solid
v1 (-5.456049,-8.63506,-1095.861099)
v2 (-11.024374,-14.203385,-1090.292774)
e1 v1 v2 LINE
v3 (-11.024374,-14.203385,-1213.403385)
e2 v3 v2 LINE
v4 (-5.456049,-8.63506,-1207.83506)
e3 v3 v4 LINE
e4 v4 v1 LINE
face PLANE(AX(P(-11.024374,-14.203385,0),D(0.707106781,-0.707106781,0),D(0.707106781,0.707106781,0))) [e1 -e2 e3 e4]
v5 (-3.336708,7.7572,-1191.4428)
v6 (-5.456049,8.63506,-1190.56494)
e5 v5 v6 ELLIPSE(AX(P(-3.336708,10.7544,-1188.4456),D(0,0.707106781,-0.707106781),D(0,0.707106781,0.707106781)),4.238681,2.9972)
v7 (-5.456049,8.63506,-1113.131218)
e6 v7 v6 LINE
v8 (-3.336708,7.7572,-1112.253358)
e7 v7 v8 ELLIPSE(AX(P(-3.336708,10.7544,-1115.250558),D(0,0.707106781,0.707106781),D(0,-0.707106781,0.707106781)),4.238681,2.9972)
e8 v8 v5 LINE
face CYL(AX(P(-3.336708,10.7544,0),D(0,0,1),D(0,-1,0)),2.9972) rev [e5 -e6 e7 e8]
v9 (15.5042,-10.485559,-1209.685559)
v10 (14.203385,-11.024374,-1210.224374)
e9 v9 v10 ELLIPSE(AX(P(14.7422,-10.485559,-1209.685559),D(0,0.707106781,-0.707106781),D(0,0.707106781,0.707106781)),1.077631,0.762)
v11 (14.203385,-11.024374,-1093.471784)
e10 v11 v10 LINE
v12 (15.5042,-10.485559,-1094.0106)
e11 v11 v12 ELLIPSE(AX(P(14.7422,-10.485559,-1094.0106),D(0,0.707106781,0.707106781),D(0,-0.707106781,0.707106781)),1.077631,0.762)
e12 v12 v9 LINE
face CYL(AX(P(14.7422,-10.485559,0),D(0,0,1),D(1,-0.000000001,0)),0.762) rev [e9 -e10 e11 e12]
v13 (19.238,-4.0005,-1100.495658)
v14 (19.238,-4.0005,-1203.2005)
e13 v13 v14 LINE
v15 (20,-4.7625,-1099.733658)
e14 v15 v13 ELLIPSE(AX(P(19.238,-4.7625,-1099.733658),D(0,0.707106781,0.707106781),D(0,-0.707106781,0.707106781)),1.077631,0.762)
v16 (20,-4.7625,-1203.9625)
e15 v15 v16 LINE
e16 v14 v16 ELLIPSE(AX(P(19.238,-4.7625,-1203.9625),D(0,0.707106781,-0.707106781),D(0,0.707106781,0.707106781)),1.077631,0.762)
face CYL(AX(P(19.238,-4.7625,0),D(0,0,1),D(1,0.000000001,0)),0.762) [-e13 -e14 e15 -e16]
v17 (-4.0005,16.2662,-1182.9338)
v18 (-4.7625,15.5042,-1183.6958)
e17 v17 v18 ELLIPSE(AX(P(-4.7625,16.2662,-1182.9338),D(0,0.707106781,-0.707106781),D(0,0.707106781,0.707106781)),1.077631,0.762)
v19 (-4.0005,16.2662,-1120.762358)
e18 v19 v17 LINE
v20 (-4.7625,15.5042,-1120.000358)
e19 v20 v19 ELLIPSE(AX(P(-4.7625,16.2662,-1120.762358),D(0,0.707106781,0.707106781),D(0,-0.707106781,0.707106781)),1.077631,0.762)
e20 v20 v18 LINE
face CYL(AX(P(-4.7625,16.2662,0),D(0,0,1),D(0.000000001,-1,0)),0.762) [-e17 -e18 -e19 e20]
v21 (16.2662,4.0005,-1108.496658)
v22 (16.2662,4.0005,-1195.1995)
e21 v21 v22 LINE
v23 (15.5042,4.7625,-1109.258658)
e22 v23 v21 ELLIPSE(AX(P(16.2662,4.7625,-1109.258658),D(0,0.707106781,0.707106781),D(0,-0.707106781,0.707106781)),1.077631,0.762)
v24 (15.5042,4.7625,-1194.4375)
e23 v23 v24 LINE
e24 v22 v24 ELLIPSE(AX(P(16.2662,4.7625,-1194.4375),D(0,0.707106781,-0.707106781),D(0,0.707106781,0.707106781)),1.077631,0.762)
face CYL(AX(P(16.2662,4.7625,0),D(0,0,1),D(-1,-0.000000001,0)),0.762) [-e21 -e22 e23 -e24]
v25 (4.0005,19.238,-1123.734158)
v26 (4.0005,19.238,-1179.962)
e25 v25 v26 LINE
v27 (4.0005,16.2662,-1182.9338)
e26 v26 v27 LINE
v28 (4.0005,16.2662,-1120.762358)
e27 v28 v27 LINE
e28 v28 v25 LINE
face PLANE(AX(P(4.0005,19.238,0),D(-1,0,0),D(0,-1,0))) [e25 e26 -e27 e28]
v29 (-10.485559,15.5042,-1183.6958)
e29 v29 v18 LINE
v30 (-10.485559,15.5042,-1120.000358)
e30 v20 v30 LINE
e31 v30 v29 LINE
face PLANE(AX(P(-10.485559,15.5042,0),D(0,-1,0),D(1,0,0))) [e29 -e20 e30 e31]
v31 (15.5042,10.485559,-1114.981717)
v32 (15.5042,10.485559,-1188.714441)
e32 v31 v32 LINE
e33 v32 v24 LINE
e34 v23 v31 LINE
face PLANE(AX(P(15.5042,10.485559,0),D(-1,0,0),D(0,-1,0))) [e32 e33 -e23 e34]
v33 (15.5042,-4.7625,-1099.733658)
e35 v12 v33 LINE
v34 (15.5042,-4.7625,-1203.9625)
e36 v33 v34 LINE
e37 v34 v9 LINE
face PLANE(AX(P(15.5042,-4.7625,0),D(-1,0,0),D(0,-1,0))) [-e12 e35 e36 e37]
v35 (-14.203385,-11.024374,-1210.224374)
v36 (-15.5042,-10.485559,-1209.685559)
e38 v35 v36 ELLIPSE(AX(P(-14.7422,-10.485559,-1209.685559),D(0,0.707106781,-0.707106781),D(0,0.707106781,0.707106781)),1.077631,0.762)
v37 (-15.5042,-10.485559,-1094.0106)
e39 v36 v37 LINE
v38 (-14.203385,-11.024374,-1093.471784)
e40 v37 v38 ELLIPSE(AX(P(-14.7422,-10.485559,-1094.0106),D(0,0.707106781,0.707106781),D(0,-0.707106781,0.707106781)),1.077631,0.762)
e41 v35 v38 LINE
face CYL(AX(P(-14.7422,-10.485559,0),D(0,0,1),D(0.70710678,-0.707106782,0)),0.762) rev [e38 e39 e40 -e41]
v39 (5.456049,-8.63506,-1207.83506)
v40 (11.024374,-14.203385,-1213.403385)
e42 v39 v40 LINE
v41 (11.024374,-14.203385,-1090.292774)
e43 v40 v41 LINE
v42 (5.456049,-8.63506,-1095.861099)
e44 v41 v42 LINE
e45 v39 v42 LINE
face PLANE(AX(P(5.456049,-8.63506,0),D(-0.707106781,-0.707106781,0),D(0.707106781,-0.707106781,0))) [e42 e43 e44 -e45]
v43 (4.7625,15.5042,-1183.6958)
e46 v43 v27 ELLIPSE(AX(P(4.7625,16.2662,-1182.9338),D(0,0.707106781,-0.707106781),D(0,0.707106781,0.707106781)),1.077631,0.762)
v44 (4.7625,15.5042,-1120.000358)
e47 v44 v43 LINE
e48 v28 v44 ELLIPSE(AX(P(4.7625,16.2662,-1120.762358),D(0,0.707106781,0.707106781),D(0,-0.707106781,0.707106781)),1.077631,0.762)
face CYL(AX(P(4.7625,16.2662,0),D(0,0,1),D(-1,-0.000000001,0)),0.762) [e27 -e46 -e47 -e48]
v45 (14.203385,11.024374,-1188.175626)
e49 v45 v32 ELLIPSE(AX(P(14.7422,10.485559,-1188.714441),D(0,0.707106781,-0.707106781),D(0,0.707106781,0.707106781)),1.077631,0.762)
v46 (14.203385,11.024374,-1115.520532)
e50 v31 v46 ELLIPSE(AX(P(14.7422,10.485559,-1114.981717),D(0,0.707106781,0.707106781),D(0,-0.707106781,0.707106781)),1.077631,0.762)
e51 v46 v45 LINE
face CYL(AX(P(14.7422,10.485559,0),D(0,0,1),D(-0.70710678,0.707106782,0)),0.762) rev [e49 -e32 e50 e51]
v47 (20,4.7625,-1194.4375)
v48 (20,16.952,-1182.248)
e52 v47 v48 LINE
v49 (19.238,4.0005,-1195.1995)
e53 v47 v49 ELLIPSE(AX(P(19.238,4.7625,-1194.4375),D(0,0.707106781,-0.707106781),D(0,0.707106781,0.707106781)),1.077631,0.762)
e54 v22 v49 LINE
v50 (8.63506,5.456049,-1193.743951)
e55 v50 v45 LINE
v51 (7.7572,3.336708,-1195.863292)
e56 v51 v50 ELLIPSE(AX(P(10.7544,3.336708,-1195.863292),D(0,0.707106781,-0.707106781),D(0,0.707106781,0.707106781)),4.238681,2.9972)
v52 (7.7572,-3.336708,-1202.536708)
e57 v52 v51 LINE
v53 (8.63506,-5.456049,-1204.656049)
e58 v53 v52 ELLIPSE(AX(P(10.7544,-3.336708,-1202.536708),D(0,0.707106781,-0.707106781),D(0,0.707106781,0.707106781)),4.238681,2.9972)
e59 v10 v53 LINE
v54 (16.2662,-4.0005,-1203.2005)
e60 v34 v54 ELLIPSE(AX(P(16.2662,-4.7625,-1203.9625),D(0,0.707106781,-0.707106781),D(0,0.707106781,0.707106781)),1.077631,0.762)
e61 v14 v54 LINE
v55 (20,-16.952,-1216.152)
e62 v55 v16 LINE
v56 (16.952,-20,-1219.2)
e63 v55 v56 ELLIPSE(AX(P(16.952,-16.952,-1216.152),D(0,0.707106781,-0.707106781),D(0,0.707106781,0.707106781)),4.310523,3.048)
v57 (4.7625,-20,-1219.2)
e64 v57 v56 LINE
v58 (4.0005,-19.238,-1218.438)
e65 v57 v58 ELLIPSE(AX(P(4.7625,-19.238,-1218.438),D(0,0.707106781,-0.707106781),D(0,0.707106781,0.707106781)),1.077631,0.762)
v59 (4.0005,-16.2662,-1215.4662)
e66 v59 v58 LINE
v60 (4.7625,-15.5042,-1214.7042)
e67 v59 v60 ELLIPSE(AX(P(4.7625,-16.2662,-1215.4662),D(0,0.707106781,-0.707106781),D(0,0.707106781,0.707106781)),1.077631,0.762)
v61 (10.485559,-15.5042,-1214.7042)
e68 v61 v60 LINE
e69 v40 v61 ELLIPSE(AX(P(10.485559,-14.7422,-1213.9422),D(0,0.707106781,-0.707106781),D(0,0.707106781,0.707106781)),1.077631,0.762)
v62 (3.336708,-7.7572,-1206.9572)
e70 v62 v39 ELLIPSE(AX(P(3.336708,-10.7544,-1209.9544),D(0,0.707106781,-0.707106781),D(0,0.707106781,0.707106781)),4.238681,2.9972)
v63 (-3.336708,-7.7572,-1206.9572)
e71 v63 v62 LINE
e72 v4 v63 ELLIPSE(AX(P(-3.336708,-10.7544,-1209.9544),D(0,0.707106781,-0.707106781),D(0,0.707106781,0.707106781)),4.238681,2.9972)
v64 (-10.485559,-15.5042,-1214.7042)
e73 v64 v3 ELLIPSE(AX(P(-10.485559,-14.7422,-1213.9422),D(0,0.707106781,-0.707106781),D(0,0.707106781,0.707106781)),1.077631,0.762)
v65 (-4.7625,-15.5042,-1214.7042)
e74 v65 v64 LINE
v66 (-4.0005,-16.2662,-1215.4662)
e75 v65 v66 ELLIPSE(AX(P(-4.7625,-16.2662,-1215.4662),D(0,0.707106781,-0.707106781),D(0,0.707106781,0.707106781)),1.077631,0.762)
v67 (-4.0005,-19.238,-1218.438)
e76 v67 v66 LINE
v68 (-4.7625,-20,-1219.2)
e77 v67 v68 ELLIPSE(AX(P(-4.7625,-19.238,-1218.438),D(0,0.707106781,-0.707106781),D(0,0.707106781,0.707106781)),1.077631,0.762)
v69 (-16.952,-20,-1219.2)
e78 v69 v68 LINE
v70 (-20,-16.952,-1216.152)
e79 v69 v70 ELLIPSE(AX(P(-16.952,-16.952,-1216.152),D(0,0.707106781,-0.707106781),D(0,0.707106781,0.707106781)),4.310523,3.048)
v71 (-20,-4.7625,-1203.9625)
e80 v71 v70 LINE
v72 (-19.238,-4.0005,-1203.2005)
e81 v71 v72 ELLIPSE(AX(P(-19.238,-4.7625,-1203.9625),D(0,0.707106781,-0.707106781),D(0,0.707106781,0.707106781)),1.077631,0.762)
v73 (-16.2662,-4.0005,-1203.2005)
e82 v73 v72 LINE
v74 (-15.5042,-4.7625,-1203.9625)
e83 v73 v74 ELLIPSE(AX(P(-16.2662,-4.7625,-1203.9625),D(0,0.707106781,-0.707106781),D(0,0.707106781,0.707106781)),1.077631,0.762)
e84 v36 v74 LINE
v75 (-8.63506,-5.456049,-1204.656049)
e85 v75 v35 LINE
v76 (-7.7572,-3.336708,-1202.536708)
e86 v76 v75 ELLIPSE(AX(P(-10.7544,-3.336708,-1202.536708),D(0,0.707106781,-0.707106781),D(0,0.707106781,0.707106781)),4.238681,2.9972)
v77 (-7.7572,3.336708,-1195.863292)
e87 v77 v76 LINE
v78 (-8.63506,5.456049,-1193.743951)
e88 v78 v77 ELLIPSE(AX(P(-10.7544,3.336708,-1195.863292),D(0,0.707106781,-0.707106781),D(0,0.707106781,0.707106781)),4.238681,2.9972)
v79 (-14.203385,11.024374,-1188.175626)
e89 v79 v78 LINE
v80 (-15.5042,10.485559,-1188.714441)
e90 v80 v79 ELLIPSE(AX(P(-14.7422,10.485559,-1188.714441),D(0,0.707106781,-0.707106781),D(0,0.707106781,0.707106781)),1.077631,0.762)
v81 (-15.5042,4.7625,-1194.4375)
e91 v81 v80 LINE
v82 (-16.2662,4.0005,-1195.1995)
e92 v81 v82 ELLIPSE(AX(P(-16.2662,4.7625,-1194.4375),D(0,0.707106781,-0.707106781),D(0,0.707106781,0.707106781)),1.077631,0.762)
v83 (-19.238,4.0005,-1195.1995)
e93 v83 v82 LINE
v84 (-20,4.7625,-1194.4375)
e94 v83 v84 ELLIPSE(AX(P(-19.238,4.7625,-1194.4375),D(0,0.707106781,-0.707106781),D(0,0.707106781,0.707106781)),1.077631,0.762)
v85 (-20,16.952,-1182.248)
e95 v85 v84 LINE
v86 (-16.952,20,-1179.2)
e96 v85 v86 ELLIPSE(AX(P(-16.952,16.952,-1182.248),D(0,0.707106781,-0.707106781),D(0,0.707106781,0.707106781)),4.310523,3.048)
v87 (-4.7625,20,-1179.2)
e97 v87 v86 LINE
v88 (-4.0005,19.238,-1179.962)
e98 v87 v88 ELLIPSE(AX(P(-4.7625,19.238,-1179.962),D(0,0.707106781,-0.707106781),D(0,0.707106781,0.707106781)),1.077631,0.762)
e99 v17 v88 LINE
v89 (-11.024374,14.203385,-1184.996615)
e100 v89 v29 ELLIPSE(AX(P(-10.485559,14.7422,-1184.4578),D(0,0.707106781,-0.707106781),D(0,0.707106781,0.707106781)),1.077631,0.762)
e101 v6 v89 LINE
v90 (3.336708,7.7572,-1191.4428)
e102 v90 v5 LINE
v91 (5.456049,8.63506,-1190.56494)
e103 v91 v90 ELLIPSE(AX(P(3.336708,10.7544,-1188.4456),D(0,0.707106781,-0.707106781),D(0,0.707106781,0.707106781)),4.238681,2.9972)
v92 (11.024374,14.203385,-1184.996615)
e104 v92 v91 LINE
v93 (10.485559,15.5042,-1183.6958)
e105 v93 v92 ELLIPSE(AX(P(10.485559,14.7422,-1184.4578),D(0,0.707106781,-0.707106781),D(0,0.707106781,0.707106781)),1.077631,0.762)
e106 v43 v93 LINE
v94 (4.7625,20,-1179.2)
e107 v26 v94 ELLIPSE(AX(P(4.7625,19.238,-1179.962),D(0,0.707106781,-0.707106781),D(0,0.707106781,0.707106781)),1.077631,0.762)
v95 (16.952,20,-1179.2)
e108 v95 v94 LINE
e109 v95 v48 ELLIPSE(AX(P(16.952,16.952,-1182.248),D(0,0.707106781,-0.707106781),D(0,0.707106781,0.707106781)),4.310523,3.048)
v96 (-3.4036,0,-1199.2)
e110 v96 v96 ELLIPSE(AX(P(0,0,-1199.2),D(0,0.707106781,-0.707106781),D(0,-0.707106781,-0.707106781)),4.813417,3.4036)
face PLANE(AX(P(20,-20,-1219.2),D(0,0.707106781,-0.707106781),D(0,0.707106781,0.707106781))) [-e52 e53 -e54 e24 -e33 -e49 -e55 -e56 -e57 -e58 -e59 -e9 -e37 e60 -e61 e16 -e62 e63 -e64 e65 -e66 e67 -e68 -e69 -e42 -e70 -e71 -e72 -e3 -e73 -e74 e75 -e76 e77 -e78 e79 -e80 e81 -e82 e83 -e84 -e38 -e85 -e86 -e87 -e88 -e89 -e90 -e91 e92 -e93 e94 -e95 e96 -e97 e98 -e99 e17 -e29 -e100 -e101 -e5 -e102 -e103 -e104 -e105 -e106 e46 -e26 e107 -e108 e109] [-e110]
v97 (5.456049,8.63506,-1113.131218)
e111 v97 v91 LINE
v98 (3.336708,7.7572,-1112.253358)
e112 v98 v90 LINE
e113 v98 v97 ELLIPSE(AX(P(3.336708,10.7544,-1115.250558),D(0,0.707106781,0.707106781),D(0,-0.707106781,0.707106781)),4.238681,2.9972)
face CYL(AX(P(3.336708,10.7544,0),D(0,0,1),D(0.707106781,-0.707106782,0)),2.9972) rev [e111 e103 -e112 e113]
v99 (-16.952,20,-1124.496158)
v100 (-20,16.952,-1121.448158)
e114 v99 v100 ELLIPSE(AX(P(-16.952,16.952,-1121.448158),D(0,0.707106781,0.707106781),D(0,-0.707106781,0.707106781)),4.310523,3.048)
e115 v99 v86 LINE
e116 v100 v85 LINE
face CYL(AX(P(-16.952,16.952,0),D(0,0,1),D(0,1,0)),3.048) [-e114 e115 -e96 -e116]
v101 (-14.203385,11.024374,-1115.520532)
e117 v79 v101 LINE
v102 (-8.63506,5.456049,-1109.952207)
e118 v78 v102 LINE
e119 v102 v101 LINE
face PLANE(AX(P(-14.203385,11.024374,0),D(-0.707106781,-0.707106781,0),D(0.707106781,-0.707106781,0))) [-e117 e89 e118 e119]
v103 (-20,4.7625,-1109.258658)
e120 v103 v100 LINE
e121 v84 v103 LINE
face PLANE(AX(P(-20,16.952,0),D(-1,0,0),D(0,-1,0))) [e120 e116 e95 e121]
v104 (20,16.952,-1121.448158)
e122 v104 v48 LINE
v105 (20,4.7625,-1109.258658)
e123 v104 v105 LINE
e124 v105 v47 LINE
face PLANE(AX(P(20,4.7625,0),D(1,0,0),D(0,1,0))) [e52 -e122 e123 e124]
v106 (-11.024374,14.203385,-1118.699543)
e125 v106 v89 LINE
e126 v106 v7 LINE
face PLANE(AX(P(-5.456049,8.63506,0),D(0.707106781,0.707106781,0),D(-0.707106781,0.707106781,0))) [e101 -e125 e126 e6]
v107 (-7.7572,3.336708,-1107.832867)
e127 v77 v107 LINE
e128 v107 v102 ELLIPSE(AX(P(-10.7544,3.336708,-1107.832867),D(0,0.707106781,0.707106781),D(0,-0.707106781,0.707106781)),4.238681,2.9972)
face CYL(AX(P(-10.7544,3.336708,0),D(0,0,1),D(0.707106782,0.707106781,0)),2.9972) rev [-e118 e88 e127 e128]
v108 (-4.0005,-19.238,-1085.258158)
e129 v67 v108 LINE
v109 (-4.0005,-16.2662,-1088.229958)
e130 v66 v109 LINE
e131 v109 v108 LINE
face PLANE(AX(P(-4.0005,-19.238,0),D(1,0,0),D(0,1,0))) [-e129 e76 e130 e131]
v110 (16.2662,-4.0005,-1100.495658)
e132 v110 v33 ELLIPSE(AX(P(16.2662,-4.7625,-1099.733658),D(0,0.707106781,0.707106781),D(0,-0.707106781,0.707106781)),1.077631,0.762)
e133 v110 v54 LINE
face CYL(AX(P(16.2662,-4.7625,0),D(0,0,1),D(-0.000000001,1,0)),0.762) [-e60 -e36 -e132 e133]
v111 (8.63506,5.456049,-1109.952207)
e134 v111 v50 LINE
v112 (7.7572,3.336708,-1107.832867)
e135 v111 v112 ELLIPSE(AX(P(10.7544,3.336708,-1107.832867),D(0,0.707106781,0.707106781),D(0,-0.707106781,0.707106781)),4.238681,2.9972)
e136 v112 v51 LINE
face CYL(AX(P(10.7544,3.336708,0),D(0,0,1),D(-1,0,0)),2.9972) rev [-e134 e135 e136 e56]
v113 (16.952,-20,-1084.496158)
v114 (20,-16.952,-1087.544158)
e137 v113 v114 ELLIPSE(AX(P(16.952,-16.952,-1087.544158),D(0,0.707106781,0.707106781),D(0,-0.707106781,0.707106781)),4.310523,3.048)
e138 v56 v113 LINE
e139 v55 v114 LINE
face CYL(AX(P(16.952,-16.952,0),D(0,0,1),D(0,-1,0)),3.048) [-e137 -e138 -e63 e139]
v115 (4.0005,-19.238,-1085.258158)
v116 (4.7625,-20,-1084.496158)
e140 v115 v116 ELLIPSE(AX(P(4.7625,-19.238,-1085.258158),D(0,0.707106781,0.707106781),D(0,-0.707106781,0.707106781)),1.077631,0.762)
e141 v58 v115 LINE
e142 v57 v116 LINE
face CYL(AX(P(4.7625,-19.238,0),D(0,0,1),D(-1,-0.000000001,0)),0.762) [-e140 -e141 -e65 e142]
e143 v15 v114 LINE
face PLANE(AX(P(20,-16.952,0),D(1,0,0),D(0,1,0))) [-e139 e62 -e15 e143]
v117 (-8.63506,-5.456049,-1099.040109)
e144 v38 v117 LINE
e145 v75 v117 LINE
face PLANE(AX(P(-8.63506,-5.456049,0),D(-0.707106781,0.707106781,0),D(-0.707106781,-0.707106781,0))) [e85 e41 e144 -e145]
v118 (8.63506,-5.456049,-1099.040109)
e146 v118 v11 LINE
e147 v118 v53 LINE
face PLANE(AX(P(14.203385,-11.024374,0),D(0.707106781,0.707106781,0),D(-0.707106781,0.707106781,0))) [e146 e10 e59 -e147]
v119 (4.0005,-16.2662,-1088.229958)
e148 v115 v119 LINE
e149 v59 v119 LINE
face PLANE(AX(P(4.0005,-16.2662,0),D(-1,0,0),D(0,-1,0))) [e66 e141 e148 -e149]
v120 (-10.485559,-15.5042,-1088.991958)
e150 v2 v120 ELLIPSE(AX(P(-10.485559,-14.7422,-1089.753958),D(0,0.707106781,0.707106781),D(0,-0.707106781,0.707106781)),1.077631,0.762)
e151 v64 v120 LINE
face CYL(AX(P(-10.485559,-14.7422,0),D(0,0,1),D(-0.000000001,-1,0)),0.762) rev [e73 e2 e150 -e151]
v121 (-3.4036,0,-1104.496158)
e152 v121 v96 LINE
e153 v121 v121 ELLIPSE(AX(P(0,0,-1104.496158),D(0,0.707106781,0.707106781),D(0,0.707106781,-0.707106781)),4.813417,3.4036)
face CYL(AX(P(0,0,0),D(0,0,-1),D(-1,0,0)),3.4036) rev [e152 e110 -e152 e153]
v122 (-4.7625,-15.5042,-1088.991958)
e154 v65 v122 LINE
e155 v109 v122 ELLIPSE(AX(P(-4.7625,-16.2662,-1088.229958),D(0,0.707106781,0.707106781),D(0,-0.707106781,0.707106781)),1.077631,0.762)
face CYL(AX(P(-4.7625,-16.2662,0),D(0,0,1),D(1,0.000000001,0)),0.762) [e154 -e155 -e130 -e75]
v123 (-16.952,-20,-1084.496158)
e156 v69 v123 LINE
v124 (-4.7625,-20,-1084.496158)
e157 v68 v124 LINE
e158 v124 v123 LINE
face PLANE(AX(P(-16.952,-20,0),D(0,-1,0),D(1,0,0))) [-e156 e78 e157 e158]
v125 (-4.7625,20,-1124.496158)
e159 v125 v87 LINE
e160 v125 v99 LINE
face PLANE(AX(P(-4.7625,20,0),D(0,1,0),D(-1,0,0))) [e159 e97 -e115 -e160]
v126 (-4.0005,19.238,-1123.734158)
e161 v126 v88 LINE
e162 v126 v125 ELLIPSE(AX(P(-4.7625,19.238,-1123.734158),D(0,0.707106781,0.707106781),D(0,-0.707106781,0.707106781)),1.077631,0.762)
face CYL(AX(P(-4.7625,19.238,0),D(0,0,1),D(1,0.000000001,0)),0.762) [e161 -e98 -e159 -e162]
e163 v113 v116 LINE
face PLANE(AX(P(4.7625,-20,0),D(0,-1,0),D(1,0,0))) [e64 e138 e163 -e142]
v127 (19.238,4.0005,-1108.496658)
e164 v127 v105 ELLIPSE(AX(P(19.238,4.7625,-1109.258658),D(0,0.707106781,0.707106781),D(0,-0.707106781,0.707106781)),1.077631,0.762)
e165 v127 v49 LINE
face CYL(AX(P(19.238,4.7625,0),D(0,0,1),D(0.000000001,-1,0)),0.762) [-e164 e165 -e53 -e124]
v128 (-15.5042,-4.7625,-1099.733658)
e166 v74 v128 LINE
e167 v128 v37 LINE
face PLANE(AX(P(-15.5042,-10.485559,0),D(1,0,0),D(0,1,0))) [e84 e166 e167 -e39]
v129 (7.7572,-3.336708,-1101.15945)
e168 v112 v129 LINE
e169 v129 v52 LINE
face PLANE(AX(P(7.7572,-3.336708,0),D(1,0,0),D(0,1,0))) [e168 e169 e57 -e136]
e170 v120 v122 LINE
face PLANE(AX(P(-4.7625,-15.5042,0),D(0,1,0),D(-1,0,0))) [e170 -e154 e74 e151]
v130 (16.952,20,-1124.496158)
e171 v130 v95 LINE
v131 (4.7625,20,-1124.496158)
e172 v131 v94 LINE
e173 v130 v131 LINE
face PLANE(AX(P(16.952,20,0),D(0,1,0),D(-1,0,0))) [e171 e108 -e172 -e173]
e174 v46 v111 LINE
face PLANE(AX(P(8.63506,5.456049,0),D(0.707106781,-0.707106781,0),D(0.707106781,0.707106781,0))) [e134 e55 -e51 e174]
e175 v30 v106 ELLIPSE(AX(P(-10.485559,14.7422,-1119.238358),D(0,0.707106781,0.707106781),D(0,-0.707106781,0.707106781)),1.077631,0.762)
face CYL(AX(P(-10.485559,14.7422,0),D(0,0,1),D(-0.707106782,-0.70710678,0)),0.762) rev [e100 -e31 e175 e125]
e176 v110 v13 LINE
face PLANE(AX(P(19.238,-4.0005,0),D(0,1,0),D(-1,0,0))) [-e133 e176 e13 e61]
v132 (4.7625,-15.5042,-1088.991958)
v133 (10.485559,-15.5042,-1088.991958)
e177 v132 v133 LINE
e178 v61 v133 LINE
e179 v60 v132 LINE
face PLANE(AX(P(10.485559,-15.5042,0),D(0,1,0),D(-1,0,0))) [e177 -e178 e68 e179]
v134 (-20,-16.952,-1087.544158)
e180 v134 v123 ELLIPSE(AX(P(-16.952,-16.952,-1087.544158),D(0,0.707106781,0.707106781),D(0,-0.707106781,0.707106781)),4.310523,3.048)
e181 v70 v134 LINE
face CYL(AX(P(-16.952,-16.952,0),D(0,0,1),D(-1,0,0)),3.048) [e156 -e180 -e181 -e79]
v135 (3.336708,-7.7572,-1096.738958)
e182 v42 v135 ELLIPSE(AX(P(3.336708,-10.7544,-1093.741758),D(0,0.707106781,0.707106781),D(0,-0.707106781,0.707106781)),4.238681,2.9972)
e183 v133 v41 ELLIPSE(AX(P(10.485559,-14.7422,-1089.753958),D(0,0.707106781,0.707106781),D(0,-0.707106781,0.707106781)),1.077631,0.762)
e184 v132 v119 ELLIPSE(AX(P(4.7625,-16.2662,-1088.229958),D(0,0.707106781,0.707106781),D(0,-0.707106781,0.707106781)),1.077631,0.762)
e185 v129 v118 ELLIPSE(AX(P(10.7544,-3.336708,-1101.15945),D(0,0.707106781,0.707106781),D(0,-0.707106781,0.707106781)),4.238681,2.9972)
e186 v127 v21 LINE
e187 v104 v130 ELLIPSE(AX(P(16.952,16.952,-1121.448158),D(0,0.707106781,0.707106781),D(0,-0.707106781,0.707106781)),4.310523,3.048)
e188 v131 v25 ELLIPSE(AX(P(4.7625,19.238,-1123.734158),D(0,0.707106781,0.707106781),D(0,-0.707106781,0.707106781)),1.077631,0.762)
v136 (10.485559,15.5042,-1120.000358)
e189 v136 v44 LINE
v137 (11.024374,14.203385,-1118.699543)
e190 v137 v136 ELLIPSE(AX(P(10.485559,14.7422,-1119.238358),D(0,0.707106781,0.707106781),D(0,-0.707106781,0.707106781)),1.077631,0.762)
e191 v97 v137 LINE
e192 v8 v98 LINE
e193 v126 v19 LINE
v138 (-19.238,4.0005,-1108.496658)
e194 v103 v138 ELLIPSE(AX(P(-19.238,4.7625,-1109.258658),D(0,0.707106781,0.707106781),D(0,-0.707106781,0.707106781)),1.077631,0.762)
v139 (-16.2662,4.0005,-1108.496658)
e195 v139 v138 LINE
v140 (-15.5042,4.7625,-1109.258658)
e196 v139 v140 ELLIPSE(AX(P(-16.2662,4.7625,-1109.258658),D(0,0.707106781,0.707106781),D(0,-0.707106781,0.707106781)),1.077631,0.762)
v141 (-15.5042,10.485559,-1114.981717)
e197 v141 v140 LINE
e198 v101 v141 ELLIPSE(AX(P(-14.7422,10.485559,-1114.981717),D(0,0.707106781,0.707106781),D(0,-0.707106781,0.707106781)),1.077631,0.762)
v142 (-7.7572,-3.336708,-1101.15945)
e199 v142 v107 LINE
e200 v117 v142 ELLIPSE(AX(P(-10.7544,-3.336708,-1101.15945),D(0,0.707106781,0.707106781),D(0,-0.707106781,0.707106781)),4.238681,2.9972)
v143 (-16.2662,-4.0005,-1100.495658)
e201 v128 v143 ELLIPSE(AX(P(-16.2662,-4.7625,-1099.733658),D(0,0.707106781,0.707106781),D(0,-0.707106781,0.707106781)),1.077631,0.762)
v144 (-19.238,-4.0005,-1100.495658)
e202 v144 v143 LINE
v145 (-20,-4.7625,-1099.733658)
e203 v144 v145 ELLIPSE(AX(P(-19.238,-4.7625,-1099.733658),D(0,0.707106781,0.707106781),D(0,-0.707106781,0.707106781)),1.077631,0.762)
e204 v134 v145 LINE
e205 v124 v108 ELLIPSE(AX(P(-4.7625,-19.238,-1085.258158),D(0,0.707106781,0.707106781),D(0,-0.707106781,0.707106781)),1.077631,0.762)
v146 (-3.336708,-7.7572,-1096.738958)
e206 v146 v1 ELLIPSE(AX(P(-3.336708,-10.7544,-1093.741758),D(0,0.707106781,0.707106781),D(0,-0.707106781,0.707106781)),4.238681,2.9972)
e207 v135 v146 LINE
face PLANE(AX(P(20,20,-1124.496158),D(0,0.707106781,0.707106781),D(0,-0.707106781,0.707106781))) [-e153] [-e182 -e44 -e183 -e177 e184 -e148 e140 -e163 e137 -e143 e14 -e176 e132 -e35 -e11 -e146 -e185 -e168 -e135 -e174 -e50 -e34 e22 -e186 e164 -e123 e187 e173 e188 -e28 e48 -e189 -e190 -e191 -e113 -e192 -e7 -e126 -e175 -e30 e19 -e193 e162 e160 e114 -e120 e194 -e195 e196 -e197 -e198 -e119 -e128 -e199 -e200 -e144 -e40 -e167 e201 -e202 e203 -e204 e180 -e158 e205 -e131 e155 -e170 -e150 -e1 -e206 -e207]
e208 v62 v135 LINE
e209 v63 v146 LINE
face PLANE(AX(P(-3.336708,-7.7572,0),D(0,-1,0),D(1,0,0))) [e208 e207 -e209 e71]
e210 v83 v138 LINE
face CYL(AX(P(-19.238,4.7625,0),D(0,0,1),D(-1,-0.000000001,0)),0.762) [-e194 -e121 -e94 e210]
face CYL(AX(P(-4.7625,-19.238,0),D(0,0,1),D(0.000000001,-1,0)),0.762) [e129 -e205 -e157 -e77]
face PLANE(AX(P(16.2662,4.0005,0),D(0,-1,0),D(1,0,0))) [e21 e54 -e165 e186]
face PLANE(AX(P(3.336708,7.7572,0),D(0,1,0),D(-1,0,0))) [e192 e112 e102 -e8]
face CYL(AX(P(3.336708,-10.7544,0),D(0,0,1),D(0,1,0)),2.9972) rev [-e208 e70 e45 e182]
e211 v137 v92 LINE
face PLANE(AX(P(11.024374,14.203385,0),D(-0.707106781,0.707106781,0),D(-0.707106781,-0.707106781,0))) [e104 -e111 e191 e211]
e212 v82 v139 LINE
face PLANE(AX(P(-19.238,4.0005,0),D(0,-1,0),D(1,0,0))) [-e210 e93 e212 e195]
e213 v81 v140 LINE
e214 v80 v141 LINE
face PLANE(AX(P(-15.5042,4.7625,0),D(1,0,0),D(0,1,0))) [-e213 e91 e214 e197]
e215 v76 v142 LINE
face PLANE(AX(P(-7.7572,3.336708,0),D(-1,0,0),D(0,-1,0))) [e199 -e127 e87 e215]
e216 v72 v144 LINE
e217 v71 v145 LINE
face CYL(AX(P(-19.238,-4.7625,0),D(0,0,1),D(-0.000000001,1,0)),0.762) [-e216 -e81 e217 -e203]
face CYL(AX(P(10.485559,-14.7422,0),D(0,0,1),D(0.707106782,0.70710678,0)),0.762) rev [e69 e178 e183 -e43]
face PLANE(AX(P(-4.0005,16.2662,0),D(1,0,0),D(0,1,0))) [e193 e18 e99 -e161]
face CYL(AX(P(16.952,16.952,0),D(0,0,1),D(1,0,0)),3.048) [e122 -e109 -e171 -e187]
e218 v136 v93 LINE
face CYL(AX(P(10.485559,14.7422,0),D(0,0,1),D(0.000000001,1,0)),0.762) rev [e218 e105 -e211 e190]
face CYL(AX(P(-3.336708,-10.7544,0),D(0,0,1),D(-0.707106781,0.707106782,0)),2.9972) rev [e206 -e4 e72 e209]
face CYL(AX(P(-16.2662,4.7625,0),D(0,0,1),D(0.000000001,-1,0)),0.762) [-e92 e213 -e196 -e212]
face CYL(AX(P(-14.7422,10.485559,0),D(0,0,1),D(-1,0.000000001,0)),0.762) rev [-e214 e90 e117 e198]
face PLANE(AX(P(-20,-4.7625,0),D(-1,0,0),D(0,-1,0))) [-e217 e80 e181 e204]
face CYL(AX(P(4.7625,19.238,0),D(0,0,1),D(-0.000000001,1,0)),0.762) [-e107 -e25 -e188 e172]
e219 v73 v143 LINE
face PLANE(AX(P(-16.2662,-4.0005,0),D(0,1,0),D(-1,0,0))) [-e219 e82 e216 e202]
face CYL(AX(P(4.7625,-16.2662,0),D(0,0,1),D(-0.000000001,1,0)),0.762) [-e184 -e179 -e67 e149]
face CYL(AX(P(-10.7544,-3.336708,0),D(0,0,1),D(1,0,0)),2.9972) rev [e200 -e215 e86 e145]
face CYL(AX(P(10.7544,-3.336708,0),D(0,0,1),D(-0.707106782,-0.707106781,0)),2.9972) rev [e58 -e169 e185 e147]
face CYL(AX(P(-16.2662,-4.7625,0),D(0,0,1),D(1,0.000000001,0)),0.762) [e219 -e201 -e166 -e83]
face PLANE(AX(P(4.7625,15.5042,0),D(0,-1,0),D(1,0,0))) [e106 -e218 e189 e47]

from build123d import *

# Parameters (mm, degrees)
SKETCH1_R          = 3.4036
EXTRUDE1_DEPTH     = 1219.2
CUT_EXTRUDE1_DEPTH = 1221.019934263


with BuildPart() as part:
    # Sketch1 → Extrude1 (new, symmetric)
    with BuildSketch(Plane.XY):
        with BuildLine():
            Line((-20, 16.952), (-20, 4.7625))
            ThreePointArc((-20, 4.7625), (-19.776815367, 4.223684633), (-19.238, 4.0005))
            Line((-19.238, 4.0005), (-16.2662, 4.0005))
            ThreePointArc((-16.2662, 4.0005), (-15.727384633, 4.223684633), (-15.5042, 4.7625))
            Line((-15.5042, 4.7625), (-15.5042, 10.485558599))
            ThreePointArc((-15.5042, 10.485558599), (-15.033804775, 11.189554802), (-14.203384633, 11.024373966))
            Line((-14.203384633, 11.024373966), (-8.635059555, 5.456048889))
            ThreePointArc((-8.635059555, 5.456048889), (-7.985348265, 4.483687227), (-7.7572, 3.336708444))
            Line((-7.7572, 3.336708444), (-7.7572, -3.336708444))
            ThreePointArc((-7.7572, -3.336708444), (-7.985348265, -4.483687227), (-8.635059555, -5.456048889))
            Line((-8.635059555, -5.456048889), (-14.203384633, -11.024373966))
            ThreePointArc((-14.203384633, -11.024373966), (-15.033804775, -11.189554802), (-15.5042, -10.485558599))
            Line((-15.5042, -10.485558599), (-15.5042, -4.7625))
            ThreePointArc((-15.5042, -4.7625), (-15.727384633, -4.223684633), (-16.2662, -4.0005))
            Line((-16.2662, -4.0005), (-19.238, -4.0005))
            ThreePointArc((-19.238, -4.0005), (-19.776815367, -4.223684633), (-20, -4.7625))
            Line((-20, -4.7625), (-20, -16.952))
            ThreePointArc((-20, -16.952), (-19.107261469, -19.107261469), (-16.952, -20))
            Line((-16.952, -20), (-4.7625, -20))
            ThreePointArc((-4.7625, -20), (-4.223684633, -19.776815367), (-4.0005, -19.238))
            Line((-4.0005, -19.238), (-4.0005, -16.2662))
            ThreePointArc((-4.0005, -16.2662), (-4.223684633, -15.727384633), (-4.7625, -15.5042))
            Line((-4.7625, -15.5042), (-10.485558599, -15.5042))
            ThreePointArc((-10.485558599, -15.5042), (-11.189554802, -15.033804775), (-11.024373966, -14.203384633))
            Line((-11.024373966, -14.203384633), (-5.456048889, -8.635059555))
            ThreePointArc((-5.456048889, -8.635059555), (-4.483687227, -7.985348265), (-3.336708444, -7.7572))
            Line((-3.336708444, -7.7572), (3.336708444, -7.7572))
            ThreePointArc((3.336708444, -7.7572), (4.483687227, -7.985348265), (5.456048889, -8.635059555))
            Line((5.456048889, -8.635059555), (11.024373966, -14.203384633))
            ThreePointArc((11.024373966, -14.203384633), (11.189554802, -15.033804775), (10.485558599, -15.5042))
            Line((10.485558599, -15.5042), (4.7625, -15.5042))
            ThreePointArc((4.7625, -15.5042), (4.223684633, -15.727384633), (4.0005, -16.2662))
            Line((4.0005, -16.2662), (4.0005, -19.238))
            ThreePointArc((4.0005, -19.238), (4.223684633, -19.776815367), (4.7625, -20))
            Line((4.7625, -20), (16.952, -20))
            ThreePointArc((16.952, -20), (19.107261469, -19.107261469), (20, -16.952))
            Line((20, -16.952), (20, -4.7625))
            ThreePointArc((20, -4.7625), (19.776815367, -4.223684633), (19.238, -4.0005))
            Line((19.238, -4.0005), (16.2662, -4.0005))
            ThreePointArc((16.2662, -4.0005), (15.727384633, -4.223684633), (15.5042, -4.7625))
            Line((15.5042, -4.7625), (15.5042, -10.485558599))
            ThreePointArc((15.5042, -10.485558599), (15.033804775, -11.189554802), (14.203384633, -11.024373966))
            Line((14.203384633, -11.024373966), (8.635059555, -5.456048889))
            ThreePointArc((8.635059555, -5.456048889), (7.985348265, -4.483687227), (7.7572, -3.336708444))
            Line((7.7572, -3.336708444), (7.7572, 3.336708444))
            ThreePointArc((7.7572, 3.336708444), (7.985348265, 4.483687227), (8.635059555, 5.456048889))
            Line((8.635059555, 5.456048889), (14.203384633, 11.024373966))
            ThreePointArc((14.203384633, 11.024373966), (15.033804775, 11.189554802), (15.5042, 10.485558599))
            Line((15.5042, 10.485558599), (15.5042, 4.7625))
            ThreePointArc((15.5042, 4.7625), (15.727384633, 4.223684633), (16.2662, 4.0005))
            Line((16.2662, 4.0005), (19.238, 4.0005))
            ThreePointArc((19.238, 4.0005), (19.776815367, 4.223684633), (20, 4.7625))
            Line((20, 4.7625), (20, 16.952))
            ThreePointArc((20, 16.952), (19.107261469, 19.107261469), (16.952, 20))
            Line((16.952, 20), (4.7625, 20))
            ThreePointArc((4.7625, 20), (4.223684633, 19.776815367), (4.0005, 19.238))
            Line((4.0005, 19.238), (4.0005, 16.2662))
            ThreePointArc((4.0005, 16.2662), (4.223684633, 15.727384633), (4.7625, 15.5042))
            Line((4.7625, 15.5042), (10.485558599, 15.5042))
            ThreePointArc((10.485558599, 15.5042), (11.189554802, 15.033804775), (11.024373966, 14.203384633))
            Line((11.024373966, 14.203384633), (5.456048889, 8.635059555))
            ThreePointArc((5.456048889, 8.635059555), (4.483687227, 7.985348265), (3.336708444, 7.7572))
            Line((3.336708444, 7.7572), (-3.336708444, 7.7572))
            ThreePointArc((-3.336708444, 7.7572), (-4.483687227, 7.985348265), (-5.456048889, 8.635059555))
            Line((-5.456048889, 8.635059555), (-11.024373966, 14.203384633))
            ThreePointArc((-11.024373966, 14.203384633), (-11.189554802, 15.033804775), (-10.485558599, 15.5042))
            Line((-10.485558599, 15.5042), (-4.7625, 15.5042))
            ThreePointArc((-4.7625, 15.5042), (-4.223684633, 15.727384633), (-4.0005, 16.2662))
            Line((-4.0005, 16.2662), (-4.0005, 19.238))
            ThreePointArc((-4.0005, 19.238), (-4.223684633, 19.776815367), (-4.7625, 20))
            Line((-4.7625, 20), (-16.952, 20))
            ThreePointArc((-16.952, 20), (-19.107261469, 19.107261469), (-20, 16.952))
        make_face()
        with Locations(Location((0, 0, 0), (0, 0, 180))):
            Circle(SKETCH1_R, mode=Mode.SUBTRACT)
    extrude(amount=EXTRUDE1_DEPTH, both=True)

    # Sketch2 → Cut-Extrude1 (cut, through all)
    with BuildSketch(Plane(origin=(20, 0, 0), x_dir=(0, 0, -1), z_dir=(1, 0, 0))):
        Polygon((1219.2, -20), (1179.2, 20), (1219.2, 20), align=None)
        Polygon((1124.496158184, 20), (1084.496158184, -20), (-1219.2, -20), (-1219.2, 20), align=None)
    extrude(amount=-CUT_EXTRUDE1_DEPTH, mode=Mode.SUBTRACT)


solid = part.part
